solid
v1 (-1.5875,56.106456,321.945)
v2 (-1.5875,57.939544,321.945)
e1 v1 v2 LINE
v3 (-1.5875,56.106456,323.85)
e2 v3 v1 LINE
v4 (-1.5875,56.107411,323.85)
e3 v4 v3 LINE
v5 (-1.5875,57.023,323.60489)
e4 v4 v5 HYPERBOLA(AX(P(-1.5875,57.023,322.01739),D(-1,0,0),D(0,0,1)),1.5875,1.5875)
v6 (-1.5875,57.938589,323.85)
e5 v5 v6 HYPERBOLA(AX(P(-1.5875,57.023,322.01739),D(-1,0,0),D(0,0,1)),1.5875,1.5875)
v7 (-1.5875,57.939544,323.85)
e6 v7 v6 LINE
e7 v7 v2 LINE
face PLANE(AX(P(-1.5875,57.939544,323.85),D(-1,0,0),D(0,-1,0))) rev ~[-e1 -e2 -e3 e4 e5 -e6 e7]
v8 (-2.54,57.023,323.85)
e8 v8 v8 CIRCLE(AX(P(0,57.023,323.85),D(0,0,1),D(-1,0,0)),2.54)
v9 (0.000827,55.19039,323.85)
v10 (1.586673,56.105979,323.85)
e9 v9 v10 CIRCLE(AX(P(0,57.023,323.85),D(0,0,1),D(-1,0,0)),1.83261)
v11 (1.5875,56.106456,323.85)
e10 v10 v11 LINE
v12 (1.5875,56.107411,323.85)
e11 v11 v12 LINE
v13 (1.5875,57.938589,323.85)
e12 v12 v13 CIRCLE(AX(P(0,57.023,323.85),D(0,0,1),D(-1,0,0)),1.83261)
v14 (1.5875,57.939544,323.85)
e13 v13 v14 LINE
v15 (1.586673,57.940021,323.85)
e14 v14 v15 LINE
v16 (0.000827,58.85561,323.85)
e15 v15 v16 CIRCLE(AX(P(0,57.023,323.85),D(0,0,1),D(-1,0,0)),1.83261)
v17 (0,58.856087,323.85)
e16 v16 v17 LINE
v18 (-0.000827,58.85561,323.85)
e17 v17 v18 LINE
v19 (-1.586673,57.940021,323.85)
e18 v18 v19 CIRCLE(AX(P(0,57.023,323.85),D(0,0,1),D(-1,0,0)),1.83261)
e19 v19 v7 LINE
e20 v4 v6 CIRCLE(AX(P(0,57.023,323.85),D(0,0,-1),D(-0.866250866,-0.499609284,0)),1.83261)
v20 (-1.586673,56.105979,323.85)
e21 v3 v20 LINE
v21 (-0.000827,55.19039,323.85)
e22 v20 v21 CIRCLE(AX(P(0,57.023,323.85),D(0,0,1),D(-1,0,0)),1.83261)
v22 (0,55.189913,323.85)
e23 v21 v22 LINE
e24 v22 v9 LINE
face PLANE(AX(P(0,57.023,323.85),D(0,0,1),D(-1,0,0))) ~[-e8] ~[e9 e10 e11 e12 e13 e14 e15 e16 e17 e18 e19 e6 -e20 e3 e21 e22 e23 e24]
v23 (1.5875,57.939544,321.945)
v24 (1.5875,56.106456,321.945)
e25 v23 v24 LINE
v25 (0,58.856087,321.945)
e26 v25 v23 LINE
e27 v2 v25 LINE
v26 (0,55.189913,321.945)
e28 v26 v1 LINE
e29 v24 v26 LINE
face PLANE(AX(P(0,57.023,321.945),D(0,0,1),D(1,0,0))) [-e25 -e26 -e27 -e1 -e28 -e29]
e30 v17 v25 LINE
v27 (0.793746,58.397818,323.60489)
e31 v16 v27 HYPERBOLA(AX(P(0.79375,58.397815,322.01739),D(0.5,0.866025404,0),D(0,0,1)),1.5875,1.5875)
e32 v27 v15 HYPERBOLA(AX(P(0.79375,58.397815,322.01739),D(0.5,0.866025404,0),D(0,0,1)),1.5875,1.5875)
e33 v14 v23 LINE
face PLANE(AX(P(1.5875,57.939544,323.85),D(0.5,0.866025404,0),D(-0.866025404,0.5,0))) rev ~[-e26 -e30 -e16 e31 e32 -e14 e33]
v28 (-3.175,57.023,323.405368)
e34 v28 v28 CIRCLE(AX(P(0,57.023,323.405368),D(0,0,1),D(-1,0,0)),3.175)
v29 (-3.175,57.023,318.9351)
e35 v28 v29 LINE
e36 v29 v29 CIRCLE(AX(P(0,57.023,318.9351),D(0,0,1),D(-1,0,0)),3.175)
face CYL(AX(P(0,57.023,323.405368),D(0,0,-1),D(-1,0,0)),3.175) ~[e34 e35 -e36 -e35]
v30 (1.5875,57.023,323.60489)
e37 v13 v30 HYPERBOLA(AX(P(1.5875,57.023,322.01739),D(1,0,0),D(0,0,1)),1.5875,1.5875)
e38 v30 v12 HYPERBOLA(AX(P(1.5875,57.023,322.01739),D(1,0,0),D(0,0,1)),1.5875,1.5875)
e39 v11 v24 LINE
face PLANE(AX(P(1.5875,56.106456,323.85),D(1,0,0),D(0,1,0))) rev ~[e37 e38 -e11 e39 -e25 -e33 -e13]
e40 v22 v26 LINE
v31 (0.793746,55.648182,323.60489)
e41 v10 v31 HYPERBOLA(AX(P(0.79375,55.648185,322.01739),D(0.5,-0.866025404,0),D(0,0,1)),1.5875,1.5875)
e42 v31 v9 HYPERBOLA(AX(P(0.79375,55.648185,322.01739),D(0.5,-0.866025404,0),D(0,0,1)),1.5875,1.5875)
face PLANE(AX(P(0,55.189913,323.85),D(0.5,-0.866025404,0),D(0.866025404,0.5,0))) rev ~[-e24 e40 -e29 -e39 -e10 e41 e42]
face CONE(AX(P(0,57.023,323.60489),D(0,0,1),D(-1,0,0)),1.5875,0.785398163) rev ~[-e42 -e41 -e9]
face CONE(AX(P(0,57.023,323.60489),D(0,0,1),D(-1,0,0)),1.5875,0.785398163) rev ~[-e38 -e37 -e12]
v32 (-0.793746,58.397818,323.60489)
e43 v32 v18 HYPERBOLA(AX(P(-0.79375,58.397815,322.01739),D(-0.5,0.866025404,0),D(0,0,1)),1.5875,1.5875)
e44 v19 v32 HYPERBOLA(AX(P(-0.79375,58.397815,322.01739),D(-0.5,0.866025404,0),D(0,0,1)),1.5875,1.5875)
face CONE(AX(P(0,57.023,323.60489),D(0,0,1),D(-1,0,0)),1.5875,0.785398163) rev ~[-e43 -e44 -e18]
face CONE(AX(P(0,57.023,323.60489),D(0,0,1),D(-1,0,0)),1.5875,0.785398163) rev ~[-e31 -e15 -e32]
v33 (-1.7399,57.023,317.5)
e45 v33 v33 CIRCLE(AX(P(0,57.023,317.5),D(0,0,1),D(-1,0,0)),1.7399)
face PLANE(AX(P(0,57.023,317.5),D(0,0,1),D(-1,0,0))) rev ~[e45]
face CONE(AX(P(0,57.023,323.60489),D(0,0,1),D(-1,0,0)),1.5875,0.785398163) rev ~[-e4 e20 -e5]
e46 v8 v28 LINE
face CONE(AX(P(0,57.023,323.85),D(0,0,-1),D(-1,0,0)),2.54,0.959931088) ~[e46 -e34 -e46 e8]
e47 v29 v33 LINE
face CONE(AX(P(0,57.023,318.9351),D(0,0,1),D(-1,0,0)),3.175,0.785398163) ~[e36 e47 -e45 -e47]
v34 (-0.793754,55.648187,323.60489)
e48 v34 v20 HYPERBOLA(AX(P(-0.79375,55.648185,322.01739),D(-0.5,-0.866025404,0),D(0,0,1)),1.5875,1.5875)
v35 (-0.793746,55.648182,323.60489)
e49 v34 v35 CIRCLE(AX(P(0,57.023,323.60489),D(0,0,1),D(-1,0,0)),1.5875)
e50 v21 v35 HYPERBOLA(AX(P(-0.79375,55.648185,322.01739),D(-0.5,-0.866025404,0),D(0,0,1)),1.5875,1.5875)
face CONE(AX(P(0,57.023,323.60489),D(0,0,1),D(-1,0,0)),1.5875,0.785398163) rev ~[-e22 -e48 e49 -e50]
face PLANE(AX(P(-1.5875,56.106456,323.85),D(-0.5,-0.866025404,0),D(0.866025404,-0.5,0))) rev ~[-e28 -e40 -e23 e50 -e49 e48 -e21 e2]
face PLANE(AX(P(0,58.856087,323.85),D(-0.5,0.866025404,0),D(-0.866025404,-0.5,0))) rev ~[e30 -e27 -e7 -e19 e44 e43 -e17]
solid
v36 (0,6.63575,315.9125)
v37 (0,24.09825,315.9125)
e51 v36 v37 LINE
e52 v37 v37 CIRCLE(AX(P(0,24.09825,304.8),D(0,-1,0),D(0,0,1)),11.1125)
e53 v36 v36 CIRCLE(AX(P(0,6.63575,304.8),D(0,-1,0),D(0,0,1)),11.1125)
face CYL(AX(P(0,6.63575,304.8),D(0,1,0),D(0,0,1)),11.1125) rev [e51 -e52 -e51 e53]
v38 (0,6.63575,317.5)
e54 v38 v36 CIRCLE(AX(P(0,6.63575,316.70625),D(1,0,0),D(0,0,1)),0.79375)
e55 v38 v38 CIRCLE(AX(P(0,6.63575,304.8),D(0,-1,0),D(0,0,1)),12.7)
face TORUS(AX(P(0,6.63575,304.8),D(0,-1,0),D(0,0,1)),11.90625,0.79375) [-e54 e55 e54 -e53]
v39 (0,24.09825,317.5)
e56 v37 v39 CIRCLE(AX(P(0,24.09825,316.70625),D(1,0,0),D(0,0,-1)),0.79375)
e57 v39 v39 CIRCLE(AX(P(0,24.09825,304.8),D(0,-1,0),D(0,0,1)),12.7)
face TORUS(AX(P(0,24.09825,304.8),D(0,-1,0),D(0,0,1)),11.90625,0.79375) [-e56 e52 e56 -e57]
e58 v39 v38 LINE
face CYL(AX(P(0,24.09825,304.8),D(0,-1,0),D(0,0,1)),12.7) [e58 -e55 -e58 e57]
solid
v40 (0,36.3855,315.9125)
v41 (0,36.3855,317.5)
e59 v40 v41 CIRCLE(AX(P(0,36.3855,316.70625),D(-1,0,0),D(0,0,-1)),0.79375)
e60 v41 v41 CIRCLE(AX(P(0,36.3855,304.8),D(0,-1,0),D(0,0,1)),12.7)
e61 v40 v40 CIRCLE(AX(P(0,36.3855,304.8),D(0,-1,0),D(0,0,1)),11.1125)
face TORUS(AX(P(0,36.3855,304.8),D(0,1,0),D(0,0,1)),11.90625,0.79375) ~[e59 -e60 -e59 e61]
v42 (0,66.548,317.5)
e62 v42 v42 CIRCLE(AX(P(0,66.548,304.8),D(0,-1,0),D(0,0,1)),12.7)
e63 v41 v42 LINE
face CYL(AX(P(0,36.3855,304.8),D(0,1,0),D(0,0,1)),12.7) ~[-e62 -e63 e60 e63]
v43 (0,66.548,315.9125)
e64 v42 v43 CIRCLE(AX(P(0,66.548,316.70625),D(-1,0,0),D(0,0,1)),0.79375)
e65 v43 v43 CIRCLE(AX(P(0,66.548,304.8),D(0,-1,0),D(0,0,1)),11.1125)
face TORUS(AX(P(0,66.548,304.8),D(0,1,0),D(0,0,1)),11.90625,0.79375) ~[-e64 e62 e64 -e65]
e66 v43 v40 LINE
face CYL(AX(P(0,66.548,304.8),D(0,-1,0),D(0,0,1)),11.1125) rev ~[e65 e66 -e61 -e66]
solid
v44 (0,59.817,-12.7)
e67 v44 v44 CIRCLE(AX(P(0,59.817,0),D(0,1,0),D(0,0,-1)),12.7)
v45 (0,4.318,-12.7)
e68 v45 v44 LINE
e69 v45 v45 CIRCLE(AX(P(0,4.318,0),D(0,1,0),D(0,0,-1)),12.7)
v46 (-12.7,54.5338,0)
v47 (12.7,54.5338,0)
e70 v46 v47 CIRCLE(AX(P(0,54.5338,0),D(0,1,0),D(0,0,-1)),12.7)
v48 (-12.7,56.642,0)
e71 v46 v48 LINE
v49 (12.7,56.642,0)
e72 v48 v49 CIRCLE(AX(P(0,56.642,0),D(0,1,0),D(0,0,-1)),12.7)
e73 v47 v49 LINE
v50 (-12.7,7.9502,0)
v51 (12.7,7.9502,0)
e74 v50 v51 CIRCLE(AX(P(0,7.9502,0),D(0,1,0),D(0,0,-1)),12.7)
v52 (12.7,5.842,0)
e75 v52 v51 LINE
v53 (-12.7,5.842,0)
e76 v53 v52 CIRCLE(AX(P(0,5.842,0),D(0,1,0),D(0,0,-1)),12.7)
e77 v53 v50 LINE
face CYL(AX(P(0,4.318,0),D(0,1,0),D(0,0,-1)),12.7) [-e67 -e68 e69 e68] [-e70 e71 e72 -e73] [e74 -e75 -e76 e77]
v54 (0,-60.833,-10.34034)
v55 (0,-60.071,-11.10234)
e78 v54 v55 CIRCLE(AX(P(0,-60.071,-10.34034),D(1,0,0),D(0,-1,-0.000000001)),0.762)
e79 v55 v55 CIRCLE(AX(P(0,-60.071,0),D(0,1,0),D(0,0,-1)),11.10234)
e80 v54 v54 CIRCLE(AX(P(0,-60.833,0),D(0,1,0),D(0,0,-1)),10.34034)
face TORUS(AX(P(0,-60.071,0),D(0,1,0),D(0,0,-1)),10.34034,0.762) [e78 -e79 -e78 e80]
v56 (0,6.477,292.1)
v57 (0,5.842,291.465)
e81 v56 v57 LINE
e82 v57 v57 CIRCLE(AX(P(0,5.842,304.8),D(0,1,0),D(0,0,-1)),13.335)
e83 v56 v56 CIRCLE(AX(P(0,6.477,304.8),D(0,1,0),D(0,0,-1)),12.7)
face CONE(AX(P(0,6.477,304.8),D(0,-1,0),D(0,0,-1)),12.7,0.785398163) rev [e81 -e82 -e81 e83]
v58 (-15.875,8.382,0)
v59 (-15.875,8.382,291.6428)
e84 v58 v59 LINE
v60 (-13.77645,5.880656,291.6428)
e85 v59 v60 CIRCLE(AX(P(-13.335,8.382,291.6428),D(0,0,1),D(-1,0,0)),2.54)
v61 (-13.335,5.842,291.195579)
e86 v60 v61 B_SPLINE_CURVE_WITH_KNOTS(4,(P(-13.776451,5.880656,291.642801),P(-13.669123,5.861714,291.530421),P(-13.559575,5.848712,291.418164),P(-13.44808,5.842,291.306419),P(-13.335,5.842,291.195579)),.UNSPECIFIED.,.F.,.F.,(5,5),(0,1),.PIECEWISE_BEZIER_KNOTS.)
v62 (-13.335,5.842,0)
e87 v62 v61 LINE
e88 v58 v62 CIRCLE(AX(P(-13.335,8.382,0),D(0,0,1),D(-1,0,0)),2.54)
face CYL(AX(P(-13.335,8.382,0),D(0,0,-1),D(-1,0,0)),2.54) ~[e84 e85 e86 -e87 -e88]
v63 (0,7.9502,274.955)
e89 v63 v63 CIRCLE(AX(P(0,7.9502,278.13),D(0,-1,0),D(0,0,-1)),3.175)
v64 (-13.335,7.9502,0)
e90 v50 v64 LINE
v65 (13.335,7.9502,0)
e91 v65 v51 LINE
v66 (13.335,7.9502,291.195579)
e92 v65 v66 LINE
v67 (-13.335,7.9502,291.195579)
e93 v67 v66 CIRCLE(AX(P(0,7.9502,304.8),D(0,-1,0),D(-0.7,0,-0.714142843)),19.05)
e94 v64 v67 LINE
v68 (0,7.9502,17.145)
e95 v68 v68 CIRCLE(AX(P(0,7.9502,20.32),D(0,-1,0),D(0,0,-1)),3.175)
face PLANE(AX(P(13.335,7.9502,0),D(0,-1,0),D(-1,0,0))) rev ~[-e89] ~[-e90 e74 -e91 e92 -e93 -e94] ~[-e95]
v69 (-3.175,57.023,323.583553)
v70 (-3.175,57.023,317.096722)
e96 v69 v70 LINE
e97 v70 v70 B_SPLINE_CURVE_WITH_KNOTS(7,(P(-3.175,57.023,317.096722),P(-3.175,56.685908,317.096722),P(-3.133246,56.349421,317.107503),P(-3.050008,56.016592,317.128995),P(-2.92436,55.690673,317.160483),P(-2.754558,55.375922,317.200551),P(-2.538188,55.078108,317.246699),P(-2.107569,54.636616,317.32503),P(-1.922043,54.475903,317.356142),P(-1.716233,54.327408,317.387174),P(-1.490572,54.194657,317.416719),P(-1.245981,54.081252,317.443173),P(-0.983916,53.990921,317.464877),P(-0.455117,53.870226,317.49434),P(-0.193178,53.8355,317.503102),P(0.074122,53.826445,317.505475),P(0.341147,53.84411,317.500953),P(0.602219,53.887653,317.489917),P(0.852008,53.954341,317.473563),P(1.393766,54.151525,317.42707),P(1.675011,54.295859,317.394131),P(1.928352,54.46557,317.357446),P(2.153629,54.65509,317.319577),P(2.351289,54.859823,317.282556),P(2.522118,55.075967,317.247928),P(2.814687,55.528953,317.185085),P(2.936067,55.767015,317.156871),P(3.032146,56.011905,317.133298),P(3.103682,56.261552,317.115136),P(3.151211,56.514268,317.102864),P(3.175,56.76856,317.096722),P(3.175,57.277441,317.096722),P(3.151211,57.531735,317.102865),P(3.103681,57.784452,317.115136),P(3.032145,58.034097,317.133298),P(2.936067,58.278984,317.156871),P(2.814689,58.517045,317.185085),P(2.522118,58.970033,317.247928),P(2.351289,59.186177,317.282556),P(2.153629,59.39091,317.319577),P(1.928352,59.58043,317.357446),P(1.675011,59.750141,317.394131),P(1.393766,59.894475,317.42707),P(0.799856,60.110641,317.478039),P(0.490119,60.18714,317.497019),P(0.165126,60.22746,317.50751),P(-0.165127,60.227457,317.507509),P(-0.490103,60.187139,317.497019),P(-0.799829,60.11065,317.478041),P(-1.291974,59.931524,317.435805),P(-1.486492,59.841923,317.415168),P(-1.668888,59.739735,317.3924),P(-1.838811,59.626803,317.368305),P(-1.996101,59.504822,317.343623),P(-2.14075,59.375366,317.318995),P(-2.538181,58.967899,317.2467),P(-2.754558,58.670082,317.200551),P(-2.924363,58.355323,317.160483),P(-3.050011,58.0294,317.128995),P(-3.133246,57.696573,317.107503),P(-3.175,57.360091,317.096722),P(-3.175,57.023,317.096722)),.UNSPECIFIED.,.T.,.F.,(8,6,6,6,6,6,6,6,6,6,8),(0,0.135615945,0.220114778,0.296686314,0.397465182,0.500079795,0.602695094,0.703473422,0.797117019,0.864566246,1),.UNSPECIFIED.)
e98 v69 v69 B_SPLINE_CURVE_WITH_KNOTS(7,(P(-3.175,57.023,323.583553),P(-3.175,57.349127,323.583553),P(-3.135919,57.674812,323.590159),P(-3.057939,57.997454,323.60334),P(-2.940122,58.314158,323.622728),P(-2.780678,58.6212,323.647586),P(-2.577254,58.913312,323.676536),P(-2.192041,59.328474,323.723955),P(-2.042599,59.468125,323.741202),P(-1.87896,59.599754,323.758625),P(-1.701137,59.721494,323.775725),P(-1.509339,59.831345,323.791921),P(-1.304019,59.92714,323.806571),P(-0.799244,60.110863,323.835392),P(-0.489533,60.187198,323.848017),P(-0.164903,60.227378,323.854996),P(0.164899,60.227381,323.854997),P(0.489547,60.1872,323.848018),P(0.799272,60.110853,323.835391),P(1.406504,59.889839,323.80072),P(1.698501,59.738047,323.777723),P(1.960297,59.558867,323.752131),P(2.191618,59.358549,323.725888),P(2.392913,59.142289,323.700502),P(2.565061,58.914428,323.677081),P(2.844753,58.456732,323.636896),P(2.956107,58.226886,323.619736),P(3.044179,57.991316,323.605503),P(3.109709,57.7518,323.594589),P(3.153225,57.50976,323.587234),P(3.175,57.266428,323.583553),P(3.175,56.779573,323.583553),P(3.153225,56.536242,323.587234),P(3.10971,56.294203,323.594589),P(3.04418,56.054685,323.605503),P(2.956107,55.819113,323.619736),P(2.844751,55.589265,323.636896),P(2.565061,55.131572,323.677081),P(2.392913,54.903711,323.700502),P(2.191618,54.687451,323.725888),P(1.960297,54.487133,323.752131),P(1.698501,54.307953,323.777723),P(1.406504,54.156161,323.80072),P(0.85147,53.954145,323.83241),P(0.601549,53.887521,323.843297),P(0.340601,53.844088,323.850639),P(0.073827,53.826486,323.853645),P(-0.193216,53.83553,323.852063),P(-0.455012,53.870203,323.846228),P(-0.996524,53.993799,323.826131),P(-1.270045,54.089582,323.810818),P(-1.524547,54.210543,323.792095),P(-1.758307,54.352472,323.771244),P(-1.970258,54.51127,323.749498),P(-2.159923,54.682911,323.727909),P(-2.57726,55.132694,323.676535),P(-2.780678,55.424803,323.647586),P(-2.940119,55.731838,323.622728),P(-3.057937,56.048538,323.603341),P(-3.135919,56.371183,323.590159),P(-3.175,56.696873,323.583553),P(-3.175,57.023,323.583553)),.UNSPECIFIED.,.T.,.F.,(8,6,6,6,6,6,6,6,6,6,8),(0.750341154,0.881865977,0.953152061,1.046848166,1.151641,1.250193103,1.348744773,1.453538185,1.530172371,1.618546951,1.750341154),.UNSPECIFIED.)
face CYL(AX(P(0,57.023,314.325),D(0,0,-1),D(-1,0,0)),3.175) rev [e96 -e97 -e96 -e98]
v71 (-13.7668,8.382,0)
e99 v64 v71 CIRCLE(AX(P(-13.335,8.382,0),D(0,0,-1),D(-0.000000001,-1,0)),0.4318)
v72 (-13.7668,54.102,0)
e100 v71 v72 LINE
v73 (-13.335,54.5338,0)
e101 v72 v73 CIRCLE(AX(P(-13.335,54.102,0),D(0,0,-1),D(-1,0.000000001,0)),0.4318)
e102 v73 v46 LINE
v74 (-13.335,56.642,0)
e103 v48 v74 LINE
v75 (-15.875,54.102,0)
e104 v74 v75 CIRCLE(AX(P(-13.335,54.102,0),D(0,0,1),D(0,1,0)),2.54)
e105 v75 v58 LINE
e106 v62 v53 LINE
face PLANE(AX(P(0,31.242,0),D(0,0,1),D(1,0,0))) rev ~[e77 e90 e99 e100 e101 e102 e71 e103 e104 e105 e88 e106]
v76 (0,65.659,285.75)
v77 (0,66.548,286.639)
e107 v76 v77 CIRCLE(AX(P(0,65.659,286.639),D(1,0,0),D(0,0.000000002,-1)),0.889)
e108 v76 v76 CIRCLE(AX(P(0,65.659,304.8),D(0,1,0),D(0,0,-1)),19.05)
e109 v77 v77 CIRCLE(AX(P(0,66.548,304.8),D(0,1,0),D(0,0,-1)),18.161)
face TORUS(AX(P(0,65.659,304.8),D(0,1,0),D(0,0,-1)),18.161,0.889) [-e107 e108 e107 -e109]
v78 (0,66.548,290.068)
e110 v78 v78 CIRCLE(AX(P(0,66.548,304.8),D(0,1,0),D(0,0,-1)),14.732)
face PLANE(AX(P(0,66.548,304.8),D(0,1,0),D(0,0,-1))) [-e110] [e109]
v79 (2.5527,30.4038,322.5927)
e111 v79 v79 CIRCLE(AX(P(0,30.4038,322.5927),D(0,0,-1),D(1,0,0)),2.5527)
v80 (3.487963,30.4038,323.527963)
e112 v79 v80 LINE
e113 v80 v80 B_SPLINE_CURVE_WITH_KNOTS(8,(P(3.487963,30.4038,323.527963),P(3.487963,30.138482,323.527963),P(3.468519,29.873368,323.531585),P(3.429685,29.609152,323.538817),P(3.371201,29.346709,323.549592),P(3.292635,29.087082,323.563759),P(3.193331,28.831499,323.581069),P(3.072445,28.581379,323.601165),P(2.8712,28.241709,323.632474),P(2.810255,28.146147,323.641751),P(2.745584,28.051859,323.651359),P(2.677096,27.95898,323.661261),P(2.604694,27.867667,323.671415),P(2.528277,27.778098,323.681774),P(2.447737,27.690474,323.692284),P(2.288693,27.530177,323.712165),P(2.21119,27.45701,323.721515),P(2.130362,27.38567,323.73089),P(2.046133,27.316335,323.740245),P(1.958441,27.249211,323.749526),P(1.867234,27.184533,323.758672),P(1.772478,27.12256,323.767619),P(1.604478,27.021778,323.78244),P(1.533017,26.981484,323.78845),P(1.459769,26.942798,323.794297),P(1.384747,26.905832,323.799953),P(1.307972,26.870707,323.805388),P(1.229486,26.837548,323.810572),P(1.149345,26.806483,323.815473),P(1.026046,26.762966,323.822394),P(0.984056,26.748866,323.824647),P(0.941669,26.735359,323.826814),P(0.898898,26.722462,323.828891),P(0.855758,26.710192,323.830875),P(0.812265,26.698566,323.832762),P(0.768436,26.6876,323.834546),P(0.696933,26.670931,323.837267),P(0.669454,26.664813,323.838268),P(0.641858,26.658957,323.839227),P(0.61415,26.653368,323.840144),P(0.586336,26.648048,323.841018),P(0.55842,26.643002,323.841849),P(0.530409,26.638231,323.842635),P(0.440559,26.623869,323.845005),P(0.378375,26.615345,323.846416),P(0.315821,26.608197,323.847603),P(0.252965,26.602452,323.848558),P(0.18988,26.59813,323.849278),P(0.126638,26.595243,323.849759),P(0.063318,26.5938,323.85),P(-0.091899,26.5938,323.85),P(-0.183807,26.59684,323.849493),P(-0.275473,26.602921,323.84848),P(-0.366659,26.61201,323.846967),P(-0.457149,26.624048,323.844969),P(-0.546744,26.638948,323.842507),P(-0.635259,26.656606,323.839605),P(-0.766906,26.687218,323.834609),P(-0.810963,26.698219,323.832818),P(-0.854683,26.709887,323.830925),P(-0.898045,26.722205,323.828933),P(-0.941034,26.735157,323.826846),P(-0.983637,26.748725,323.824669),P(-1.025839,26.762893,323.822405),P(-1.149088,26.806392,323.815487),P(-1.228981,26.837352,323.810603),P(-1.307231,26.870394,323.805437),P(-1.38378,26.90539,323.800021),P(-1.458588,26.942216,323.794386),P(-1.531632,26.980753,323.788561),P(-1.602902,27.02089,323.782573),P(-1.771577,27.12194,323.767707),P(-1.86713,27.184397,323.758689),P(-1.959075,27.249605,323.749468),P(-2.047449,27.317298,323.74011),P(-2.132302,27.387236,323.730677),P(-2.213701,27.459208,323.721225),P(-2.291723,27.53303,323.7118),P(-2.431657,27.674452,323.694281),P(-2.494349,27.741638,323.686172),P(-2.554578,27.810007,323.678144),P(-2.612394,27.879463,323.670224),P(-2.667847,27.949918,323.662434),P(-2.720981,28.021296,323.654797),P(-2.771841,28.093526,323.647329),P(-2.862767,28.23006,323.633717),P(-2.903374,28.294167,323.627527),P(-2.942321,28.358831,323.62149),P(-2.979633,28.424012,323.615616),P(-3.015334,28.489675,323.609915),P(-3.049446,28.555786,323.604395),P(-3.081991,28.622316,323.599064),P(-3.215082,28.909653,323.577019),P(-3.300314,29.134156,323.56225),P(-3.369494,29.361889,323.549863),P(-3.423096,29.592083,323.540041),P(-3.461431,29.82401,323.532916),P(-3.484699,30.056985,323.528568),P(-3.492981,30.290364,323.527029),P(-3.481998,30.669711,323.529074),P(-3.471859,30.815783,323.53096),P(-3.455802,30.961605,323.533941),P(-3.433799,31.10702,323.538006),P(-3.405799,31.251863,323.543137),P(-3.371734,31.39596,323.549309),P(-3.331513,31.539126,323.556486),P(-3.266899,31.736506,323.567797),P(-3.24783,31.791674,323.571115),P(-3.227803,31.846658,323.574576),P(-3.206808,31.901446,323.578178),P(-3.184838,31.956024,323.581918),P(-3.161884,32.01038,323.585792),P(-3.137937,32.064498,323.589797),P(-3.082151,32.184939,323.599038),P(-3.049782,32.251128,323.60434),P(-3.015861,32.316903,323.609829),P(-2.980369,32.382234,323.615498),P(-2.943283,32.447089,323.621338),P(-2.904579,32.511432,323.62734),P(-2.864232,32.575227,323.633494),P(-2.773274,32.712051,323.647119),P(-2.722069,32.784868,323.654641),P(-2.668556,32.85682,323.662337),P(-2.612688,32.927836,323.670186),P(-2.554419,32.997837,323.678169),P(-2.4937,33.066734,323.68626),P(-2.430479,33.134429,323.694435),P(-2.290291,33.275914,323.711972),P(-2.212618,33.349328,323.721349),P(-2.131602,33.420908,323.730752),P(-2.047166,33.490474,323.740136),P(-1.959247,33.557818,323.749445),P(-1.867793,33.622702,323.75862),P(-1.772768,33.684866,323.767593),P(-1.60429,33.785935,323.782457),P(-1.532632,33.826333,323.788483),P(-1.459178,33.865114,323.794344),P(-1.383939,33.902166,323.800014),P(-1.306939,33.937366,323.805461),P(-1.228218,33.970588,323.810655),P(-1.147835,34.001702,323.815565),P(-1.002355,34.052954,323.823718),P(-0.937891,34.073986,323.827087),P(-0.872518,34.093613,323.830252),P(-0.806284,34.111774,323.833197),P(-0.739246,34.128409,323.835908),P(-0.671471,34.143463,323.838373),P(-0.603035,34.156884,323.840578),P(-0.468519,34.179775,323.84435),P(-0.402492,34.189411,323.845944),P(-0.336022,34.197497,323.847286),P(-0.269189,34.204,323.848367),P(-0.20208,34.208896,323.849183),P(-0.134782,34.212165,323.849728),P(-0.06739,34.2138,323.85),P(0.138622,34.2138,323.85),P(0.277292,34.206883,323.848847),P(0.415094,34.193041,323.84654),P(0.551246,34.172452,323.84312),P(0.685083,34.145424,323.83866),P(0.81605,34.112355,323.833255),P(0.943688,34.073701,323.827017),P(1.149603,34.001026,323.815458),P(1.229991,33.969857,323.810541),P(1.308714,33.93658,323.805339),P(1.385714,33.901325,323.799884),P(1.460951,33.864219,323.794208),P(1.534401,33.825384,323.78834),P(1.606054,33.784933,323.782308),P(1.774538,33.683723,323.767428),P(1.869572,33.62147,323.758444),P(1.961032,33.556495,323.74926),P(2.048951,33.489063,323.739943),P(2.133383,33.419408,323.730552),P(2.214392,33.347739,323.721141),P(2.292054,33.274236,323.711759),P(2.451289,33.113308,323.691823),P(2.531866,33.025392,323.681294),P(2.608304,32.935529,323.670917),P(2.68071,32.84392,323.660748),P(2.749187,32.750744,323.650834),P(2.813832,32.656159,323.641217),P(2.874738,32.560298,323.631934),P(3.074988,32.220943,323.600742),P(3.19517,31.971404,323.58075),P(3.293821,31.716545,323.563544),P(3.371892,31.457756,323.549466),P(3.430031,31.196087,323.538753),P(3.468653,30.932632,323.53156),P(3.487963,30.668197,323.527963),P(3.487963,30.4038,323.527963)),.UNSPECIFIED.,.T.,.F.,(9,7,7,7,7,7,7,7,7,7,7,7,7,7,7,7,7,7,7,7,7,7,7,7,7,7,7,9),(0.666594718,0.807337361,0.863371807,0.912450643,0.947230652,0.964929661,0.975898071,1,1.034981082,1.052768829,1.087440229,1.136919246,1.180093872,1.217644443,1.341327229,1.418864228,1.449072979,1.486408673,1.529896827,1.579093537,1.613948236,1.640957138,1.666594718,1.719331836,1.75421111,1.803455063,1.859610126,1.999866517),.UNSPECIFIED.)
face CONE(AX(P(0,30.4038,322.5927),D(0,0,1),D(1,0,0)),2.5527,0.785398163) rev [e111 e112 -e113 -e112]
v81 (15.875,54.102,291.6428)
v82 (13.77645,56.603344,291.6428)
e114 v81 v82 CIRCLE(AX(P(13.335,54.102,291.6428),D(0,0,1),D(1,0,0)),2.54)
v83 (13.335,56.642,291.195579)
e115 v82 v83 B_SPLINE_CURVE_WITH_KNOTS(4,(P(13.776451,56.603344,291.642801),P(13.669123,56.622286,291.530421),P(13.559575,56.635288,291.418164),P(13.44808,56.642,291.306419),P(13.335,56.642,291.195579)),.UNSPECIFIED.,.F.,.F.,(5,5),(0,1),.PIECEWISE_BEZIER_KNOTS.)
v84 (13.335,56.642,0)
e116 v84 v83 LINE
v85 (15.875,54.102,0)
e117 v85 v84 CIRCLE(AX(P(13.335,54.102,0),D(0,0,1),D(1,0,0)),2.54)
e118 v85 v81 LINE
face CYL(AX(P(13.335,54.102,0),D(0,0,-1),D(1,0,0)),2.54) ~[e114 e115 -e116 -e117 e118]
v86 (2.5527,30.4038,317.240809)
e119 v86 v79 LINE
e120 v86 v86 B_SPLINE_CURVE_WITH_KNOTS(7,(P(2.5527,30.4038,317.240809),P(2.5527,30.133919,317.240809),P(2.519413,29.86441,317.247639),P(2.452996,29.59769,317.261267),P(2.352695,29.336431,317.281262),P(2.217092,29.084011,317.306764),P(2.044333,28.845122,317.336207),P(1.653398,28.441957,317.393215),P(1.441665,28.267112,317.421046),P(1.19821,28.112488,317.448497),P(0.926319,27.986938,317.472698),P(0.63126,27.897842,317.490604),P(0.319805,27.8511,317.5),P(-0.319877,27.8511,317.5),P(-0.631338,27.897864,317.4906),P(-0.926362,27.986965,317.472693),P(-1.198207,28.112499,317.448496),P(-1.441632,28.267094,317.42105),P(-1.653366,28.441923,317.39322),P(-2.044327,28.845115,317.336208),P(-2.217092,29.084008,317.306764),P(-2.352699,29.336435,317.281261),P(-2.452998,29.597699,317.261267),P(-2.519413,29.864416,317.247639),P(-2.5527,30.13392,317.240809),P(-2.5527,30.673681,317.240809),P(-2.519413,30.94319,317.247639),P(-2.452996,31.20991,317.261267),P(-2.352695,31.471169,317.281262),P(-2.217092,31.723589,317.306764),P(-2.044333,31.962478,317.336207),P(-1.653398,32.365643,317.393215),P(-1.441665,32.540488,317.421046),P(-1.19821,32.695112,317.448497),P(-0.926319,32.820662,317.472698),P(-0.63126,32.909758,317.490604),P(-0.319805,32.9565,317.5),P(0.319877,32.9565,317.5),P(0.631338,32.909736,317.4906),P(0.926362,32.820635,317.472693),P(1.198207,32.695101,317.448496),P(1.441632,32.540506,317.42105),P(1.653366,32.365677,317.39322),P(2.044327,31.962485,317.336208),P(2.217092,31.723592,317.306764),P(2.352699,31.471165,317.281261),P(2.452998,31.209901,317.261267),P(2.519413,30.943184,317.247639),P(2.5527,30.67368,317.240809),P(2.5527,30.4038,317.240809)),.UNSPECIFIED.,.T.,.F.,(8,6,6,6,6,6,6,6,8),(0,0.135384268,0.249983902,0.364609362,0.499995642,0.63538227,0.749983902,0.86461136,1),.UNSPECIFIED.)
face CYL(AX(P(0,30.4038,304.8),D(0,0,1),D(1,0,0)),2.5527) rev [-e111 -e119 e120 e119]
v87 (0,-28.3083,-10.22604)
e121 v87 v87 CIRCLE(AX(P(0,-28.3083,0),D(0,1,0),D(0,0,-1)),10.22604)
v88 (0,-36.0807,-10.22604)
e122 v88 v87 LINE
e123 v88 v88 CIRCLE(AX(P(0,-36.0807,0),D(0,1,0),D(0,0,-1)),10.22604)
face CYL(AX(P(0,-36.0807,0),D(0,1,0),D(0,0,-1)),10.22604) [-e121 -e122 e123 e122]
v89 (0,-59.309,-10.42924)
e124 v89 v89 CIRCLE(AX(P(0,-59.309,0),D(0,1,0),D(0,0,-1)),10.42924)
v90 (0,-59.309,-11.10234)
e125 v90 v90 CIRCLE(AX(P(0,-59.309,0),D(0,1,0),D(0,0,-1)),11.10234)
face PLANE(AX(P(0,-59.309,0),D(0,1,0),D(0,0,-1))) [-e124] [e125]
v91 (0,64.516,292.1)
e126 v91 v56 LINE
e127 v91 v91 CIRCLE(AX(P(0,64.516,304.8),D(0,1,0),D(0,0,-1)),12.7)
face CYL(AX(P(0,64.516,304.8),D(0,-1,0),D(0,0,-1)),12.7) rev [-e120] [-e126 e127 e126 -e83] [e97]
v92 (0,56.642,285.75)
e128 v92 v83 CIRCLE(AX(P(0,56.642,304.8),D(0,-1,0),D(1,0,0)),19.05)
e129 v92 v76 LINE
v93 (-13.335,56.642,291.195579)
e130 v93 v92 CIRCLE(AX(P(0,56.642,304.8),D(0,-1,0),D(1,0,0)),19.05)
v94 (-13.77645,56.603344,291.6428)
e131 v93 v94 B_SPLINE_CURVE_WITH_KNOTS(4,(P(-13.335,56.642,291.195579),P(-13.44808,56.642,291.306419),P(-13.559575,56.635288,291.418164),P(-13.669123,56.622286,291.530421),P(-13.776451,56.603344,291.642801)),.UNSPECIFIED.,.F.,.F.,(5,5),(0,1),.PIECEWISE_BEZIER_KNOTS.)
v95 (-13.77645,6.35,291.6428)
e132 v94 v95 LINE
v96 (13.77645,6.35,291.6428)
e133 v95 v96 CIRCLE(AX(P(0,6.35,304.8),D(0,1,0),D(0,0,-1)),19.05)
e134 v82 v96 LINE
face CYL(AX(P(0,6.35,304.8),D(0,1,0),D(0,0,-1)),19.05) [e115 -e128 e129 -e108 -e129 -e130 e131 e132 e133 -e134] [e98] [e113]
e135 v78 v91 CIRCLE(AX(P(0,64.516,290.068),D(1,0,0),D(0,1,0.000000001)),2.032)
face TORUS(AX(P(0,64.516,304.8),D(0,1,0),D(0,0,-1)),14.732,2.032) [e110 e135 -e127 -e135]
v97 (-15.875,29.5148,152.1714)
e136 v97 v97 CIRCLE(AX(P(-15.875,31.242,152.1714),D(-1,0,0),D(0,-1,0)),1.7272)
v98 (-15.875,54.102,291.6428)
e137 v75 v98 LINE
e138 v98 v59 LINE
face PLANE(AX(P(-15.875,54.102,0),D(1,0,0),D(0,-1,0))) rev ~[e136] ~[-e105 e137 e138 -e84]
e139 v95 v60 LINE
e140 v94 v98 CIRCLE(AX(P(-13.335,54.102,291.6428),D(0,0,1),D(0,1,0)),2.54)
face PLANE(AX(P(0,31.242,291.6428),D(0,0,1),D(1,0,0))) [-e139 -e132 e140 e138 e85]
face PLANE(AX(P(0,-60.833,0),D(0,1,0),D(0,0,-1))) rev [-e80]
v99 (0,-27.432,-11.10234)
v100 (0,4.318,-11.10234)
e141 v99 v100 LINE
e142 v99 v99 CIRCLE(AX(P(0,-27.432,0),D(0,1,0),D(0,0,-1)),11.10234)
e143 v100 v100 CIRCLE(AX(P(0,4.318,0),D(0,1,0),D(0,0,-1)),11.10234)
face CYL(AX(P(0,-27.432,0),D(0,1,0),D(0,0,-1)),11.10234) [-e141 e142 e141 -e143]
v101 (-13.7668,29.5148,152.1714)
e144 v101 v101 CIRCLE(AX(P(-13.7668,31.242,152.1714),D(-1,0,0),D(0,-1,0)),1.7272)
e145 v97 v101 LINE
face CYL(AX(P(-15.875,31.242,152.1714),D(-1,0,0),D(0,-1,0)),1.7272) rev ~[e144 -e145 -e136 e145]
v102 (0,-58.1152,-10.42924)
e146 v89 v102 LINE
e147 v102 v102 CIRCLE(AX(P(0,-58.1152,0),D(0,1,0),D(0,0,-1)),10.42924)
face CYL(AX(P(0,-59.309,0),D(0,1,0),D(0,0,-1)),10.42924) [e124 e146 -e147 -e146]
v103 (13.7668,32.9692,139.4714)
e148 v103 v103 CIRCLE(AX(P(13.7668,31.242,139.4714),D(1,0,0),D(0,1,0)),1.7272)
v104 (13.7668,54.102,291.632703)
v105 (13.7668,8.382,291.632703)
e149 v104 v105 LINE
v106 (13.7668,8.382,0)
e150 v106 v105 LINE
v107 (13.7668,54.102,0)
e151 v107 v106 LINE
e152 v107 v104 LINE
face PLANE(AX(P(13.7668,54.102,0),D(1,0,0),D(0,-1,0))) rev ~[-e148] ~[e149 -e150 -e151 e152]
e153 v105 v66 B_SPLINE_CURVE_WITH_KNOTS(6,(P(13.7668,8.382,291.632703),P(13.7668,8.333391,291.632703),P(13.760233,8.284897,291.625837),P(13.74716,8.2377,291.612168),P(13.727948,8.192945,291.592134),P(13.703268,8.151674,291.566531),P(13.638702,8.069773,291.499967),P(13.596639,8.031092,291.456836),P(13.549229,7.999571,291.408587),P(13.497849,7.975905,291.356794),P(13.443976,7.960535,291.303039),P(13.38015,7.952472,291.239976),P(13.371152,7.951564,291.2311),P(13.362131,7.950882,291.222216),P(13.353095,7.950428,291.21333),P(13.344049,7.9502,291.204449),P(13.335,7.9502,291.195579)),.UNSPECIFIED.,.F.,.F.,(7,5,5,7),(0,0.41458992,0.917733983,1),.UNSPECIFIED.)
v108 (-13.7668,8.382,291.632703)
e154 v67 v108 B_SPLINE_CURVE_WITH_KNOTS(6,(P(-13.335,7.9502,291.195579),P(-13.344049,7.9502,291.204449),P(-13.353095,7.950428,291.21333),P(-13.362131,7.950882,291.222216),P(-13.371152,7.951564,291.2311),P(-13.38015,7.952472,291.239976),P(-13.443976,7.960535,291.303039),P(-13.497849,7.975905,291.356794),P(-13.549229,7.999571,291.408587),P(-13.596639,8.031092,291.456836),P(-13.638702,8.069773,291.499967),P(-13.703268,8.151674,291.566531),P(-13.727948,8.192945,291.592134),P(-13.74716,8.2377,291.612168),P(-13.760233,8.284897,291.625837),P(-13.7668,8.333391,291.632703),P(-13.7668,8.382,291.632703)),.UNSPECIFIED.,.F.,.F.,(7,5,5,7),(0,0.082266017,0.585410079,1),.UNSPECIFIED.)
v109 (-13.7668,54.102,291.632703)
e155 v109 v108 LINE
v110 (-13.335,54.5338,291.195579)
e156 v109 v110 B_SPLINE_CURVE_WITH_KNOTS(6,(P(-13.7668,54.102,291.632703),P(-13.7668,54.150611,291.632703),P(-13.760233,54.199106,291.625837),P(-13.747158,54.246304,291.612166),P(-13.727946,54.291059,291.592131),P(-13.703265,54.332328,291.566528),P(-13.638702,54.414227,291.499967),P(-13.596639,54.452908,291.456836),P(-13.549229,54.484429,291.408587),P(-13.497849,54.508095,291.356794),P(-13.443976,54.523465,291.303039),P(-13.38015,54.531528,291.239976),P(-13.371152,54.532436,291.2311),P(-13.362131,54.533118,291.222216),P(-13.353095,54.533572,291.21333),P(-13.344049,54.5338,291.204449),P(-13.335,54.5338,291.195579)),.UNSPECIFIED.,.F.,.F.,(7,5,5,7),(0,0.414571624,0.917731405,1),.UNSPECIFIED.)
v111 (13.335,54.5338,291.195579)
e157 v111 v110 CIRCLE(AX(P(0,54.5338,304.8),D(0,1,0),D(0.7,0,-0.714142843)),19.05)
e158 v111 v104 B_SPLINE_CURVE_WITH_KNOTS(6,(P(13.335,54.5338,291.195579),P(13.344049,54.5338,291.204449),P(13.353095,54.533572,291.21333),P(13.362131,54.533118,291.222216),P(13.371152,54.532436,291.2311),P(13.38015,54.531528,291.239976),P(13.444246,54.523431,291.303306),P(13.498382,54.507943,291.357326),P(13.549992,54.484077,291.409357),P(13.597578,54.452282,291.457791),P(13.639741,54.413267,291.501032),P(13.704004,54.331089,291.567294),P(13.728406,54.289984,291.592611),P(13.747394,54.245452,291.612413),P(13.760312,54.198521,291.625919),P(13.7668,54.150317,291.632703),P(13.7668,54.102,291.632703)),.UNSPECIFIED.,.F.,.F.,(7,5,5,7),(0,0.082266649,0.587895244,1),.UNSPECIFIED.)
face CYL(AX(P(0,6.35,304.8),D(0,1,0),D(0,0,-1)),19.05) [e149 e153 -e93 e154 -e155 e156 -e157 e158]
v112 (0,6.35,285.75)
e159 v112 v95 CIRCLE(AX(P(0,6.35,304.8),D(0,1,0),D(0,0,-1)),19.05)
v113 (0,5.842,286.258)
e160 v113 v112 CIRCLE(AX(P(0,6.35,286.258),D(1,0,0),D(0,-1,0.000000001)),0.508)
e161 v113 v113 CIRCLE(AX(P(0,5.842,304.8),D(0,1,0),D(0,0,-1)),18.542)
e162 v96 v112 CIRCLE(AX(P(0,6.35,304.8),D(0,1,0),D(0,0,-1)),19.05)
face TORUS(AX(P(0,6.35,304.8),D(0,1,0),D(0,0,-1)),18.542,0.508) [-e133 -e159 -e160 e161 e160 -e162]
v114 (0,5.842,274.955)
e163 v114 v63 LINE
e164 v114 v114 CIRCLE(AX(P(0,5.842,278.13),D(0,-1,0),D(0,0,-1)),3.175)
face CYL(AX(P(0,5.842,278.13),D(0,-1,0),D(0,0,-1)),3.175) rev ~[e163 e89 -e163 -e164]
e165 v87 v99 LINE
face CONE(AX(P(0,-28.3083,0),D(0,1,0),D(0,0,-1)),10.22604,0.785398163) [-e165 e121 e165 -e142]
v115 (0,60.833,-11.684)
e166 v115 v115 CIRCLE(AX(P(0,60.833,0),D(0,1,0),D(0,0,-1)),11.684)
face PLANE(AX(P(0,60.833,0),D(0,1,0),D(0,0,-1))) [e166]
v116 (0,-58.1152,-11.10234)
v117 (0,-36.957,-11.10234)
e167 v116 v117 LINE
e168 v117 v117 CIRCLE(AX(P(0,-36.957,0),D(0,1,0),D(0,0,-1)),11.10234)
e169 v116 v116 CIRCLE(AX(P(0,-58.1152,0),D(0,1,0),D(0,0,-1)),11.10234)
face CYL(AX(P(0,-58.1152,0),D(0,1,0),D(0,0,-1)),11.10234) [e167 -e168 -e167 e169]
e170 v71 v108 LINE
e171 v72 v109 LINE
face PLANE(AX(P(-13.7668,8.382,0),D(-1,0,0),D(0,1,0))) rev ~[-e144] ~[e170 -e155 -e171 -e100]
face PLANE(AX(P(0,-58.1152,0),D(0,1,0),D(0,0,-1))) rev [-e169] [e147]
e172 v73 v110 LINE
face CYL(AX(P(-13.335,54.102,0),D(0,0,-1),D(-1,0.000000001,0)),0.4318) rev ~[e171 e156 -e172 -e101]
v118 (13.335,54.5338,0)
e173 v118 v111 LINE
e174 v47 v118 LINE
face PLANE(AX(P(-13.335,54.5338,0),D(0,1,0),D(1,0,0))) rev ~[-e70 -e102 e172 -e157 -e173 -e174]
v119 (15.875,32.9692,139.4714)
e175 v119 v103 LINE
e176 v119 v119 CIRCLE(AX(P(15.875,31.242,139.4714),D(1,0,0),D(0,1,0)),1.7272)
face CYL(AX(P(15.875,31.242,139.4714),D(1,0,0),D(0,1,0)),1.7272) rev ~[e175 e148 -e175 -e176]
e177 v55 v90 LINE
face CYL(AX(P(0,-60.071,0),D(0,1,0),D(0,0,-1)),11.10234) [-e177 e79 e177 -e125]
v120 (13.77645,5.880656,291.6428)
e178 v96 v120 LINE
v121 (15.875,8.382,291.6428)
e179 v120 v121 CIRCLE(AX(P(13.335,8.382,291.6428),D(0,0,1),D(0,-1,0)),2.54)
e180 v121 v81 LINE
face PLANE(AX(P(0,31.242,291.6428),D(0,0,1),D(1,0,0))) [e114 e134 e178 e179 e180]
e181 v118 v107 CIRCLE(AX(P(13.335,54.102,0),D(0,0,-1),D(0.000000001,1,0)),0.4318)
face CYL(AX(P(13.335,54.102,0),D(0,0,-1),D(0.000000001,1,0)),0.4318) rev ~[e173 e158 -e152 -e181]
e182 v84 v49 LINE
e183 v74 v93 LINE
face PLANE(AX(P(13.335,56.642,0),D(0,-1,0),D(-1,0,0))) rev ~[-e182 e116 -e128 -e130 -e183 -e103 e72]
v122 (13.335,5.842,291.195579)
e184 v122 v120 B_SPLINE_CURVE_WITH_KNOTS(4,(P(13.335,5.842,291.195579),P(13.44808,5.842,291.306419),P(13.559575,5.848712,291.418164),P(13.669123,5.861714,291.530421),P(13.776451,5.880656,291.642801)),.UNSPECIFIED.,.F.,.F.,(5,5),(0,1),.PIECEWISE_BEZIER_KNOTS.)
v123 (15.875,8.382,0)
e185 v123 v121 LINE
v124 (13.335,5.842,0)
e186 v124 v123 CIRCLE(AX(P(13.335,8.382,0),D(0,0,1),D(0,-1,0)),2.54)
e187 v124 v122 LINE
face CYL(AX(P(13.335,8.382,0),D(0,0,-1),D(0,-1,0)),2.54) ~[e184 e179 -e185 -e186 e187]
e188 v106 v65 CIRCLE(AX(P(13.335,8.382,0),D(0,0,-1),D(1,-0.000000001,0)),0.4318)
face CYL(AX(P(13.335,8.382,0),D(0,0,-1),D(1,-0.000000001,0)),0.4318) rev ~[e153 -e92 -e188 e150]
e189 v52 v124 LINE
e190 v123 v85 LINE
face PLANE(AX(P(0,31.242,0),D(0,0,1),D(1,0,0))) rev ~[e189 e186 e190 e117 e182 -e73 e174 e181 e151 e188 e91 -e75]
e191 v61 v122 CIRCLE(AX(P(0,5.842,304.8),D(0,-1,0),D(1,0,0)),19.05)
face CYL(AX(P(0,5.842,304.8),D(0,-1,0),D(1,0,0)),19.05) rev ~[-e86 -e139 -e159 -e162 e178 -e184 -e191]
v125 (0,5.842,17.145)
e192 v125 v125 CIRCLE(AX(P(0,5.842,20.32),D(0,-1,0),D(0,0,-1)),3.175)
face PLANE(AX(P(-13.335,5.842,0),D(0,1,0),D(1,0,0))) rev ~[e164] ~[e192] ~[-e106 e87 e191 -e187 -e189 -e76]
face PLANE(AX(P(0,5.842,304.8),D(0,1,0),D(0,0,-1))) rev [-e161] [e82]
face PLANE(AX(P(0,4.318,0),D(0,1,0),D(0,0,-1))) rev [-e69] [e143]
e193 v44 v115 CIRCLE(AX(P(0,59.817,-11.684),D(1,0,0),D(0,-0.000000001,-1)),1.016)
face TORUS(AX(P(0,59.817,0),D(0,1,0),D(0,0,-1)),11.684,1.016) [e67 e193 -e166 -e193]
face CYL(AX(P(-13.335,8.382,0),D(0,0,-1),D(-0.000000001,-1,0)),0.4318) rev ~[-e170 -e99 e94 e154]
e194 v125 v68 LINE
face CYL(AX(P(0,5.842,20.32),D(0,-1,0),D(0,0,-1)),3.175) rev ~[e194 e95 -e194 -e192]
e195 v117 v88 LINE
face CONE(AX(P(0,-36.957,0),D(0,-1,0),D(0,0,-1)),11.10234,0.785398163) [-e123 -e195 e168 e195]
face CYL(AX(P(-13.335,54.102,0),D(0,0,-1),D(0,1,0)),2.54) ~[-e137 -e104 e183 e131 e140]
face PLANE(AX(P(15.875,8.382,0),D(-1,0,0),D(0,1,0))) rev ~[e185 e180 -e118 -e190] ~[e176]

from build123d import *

# Parameters (mm, degrees)
BOSS_EXTRUDE1_DEPTH = 291.6428
SKETCH3_R           = 19.05
CUT_EXTRUDE1_DEPTH  = 300.588207448
CUT_EXTRUDE2_REACH  = 301.588
SKETCH4_R           = 3.175
SKETCH7_W           = 19.05
SKETCH7_H           = 3.175
CUT_EXTRUDE3_DEPTH  = 1.905
SKETCH11_R          = 1.7272
CUT_EXTRUDE4_DEPTH  = 2.1082
SKETCH12_R          = 1.7272
CUT_EXTRUDE5_DEPTH  = 2.1082


with BuildPart() as part:
    # Sketch1 → Revolve1 (revolve)
    with BuildSketch(Plane.XY, mode=Mode.PRIVATE) as revolve1_sk:
        with BuildLine():
            Line((0, -60.833), (-10.34034, -60.833))
            ThreePointArc((-10.34034, -60.833), (-10.879155367, -60.609815367), (-11.10234, -60.071))
            Line((-11.10234, -60.071), (-11.10234, -59.309))
            Line((-11.10234, -59.309), (-10.42924, -59.309))
            Line((-10.42924, -59.309), (-10.42924, -58.1152))
            Line((-10.42924, -58.1152), (-11.10234, -58.1152))
            Line((-11.10234, -58.1152), (-11.10234, -36.957))
            Line((-11.10234, -36.957), (-10.22604, -36.0807))
            Line((-10.22604, -36.0807), (-10.22604, -28.3083))
            Line((-10.22604, -28.3083), (-11.10234, -27.432))
            Line((-11.10234, -27.432), (-11.10234, 4.318))
            Line((-11.10234, 4.318), (-12.7, 4.318))
            Line((-12.7, 4.318), (-12.7, 59.817))
            ThreePointArc((-12.7, 59.817), (-12.40242049, 60.53542049), (-11.684, 60.833))
            Line((-11.684, 60.833), (0, 60.833))
            Line((0, 60.833), (0, -60.833))
        make_face()
    revolve(revolve1_sk.sketch.rotate(Axis((0, -60.833, 0), (0, 1, 0)), 270), axis=Axis((0, -60.833, 0), (0, 1, 0)))

    # Sketch2 → Boss-Extrude1 (add)
    with BuildSketch(Plane.XY):
        with BuildLine():
            Line((-15.875, 54.102), (-15.875, 8.382))
            ThreePointArc((-15.875, 8.382), (-15.131051224, 6.585948776), (-13.335, 5.842))
            Line((-13.335, 5.842), (13.335, 5.842))
            ThreePointArc((13.335, 5.842), (15.131051224, 6.585948776), (15.875, 8.382))
            Line((15.875, 8.382), (15.875, 54.102))
            ThreePointArc((15.875, 54.102), (15.131051224, 55.898051224), (13.335, 56.642))
            Line((13.335, 56.642), (-13.335, 56.642))
            ThreePointArc((-13.335, 56.642), (-15.131051224, 55.898051224), (-15.875, 54.102))
        make_face()
        with BuildLine():
            Line((-13.335, 54.5338), (13.335, 54.5338))
            ThreePointArc((13.335, 54.5338), (13.640328708, 54.407328708), (13.7668, 54.102))
            Line((13.7668, 54.102), (13.7668, 8.382))
            ThreePointArc((13.7668, 8.382), (13.640328708, 8.076671292), (13.335, 7.9502))
            Line((13.335, 7.9502), (-13.335, 7.9502))
            ThreePointArc((-13.335, 7.9502), (-13.640328708, 8.076671292), (-13.7668, 8.382))
            Line((-13.7668, 8.382), (-13.7668, 54.102))
            ThreePointArc((-13.7668, 54.102), (-13.640328708, 54.407328708), (-13.335, 54.5338))
        make_face(mode=Mode.SUBTRACT)
    extrude(amount=BOSS_EXTRUDE1_DEPTH)

    # Sketch3 → Cut-Extrude1 (cut, through all)
    with BuildSketch(Plane.XZ.offset(-5.842)):
        with Locations((0, 304.8)):
            Circle(SKETCH3_R)
    extrude(amount=-CUT_EXTRUDE1_DEPTH, mode=Mode.SUBTRACT)

    # Sketch4 → Cut-Extrude2 (cut, up to next)
    with BuildSketch(Plane.XZ.offset(-5.842), mode=Mode.PRIVATE) as cut_extrude2_sk1:
        with Locations(Location((0, 20.32, 0), (0, 0, 270))):
            Circle(SKETCH4_R)
    cut_extrude2_tool1 = extrude(cut_extrude2_sk1.sketch, amount=-CUT_EXTRUDE2_REACH, mode=Mode.PRIVATE) & part.part
    # Sketch4 → Cut-Extrude2 (cut, up to next)
    with BuildSketch(Plane.XZ.offset(-5.842), mode=Mode.PRIVATE) as cut_extrude2_sk2:
        with Locations(Location((0, 278.13, 0), (0, 0, 270))):
            Circle(SKETCH4_R)
    cut_extrude2_tool2 = extrude(cut_extrude2_sk2.sketch, amount=-CUT_EXTRUDE2_REACH, mode=Mode.PRIVATE) & part.part
    add(cut_extrude2_tool1.solids().sort_by_distance((0, 5.842, 20.32))[0], mode=Mode.SUBTRACT)
    add(cut_extrude2_tool2.solids().sort_by_distance((0, 5.842, 278.13))[0], mode=Mode.SUBTRACT)

    # Sketch5 → Revolve2 (revolve)
    with BuildSketch(Plane(origin=(0, 0, 0), x_dir=(0, 0, -1), z_dir=(1, 0, 0))):
        with BuildLine():
            Line((-285.75, 6.35), (-285.75, 65.659))
            ThreePointArc((-285.75, 65.659), (-286.010382072, 66.287617928), (-286.639, 66.548))
            Line((-286.639, 66.548), (-290.068, 66.548))
            ThreePointArc((-290.068, 66.548), (-291.504840979, 65.952840979), (-292.1, 64.516))
            Line((-292.1, 64.516), (-292.1, 6.477))
            Line((-292.1, 6.477), (-291.465, 5.842))
            Line((-291.465, 5.842), (-286.258, 5.842))
            ThreePointArc((-286.258, 5.842), (-285.898789755, 5.990789755), (-285.75, 6.35))
        make_face()
    revolve(axis=Axis((0, 5.842, 304.8), (0, 1, 0)))

    # Sketch7 → Cut-Revolve1 (revolve, cut)
    with BuildSketch(Plane(origin=(0, 0, 0), x_dir=(0, 0, -1), z_dir=(1, 0, 0)), mode=Mode.PRIVATE) as cut_revolve1_sk:
        with Locations((-314.325, 58.6105)):
            Rectangle(SKETCH7_W, SKETCH7_H)
    revolve(cut_revolve1_sk.sketch.rotate(Axis((0, 57.023, 304.8), (0, 0, 1)), 90), axis=Axis((0, 57.023, 304.8), (0, 0, 1)), mode=Mode.SUBTRACT)

    # Sketch10 → Cut-Revolve2 (revolve, cut)
    with BuildSketch(Plane(origin=(0, 0, 0), x_dir=(0, 0, -1), z_dir=(1, 0, 0)), mode=Mode.PRIVATE) as cut_revolve2_sk:
        Polygon((-323.85, 30.4038), (-304.8, 30.4038), (-304.8, 32.9565), (-322.5927, 32.9565), (-323.85, 34.2138), align=None)
    revolve(cut_revolve2_sk.sketch.rotate(Axis((0, 30.4038, 323.85), (0, 0, -1)), 90), axis=Axis((0, 30.4038, 323.85), (0, 0, -1)), mode=Mode.SUBTRACT)

    # Sketch11 → Cut-Extrude4 (cut)
    with BuildSketch(Plane(origin=(15.875, 0, 0), x_dir=(0, 0, -1), z_dir=(1, 0, 0))):
        with Locations(Location((-139.4714, 31.242, 0), (0, 0, 90))):
            Circle(SKETCH11_R)
    extrude(amount=-CUT_EXTRUDE4_DEPTH, mode=Mode.SUBTRACT)

    # Sketch12 → Cut-Extrude5 (cut)
    with BuildSketch(Plane.ZY.offset(15.875)):
        with Locations(Location((152.1714, 31.242, 0), (0, 0, 270))):
            Circle(SKETCH12_R)
    extrude(amount=-CUT_EXTRUDE5_DEPTH, mode=Mode.SUBTRACT)


with BuildPart() as body_2:
    # Sketch6 → Revolve3 (revolve)
    with BuildSketch(Plane(origin=(0, 0, 0), x_dir=(0, 0, -1), z_dir=(1, 0, 0)), mode=Mode.PRIVATE) as revolve3_sk:
        with BuildLine():
            Line((-292.1, 36.3855), (-292.1, 66.548))
            ThreePointArc((-292.1, 66.548), (-292.89375, 67.34175), (-293.6875, 66.548))
            Line((-293.6875, 66.548), (-293.6875, 36.3855))
            ThreePointArc((-293.6875, 36.3855), (-292.89375, 35.59175), (-292.1, 36.3855))
        make_face()
        with BuildLine():
            Line((-292.1, 24.09825), (-292.1, 6.63575))
            ThreePointArc((-292.1, 6.63575), (-292.89375, 5.842), (-293.6875, 6.63575))
            Line((-293.6875, 6.63575), (-293.6875, 24.09825))
            ThreePointArc((-293.6875, 24.09825), (-292.89375, 24.892), (-292.1, 24.09825))
        make_face()
    revolve(revolve3_sk.sketch.rotate(Axis((0, 66.548, 304.8), (0, -1, 0)), 180), axis=Axis((0, 66.548, 304.8), (0, -1, 0)))


with BuildPart() as body_3:
    # Sketch8 → Revolve5 (revolve)
    with BuildSketch(Plane(origin=(0, 0, 0), x_dir=(0, 0, -1), z_dir=(1, 0, 0)), mode=Mode.PRIVATE) as revolve5_sk:
        Polygon((-323.85, 59.563), (-323.405368213, 60.198), (-318.9351, 60.198), (-317.5, 58.7629), (-317.5, 57.023), (-321.945, 57.023), (-321.945, 58.6105), (-323.60489, 58.6105), (-323.85, 58.85561), align=None)
    revolve(revolve5_sk.sketch.rotate(Axis((0, 57.023, 321.945), (0, 0, 1)), 90), axis=Axis((0, 57.023, 321.945), (0, 0, 1)))

    # Sketch9 → Cut-Extrude3 (cut)
    with BuildSketch(Plane.XY.offset(323.85)):
        Polygon((0, 58.856087105), (-1.5875, 57.939543552), (-1.5875, 56.106456448), (0, 55.189912895), (1.5875, 56.106456448), (1.5875, 57.939543552), align=None)
    extrude(amount=-CUT_EXTRUDE3_DEPTH, mode=Mode.SUBTRACT)


solid = Compound([part.part, body_2.part, body_3.part])
